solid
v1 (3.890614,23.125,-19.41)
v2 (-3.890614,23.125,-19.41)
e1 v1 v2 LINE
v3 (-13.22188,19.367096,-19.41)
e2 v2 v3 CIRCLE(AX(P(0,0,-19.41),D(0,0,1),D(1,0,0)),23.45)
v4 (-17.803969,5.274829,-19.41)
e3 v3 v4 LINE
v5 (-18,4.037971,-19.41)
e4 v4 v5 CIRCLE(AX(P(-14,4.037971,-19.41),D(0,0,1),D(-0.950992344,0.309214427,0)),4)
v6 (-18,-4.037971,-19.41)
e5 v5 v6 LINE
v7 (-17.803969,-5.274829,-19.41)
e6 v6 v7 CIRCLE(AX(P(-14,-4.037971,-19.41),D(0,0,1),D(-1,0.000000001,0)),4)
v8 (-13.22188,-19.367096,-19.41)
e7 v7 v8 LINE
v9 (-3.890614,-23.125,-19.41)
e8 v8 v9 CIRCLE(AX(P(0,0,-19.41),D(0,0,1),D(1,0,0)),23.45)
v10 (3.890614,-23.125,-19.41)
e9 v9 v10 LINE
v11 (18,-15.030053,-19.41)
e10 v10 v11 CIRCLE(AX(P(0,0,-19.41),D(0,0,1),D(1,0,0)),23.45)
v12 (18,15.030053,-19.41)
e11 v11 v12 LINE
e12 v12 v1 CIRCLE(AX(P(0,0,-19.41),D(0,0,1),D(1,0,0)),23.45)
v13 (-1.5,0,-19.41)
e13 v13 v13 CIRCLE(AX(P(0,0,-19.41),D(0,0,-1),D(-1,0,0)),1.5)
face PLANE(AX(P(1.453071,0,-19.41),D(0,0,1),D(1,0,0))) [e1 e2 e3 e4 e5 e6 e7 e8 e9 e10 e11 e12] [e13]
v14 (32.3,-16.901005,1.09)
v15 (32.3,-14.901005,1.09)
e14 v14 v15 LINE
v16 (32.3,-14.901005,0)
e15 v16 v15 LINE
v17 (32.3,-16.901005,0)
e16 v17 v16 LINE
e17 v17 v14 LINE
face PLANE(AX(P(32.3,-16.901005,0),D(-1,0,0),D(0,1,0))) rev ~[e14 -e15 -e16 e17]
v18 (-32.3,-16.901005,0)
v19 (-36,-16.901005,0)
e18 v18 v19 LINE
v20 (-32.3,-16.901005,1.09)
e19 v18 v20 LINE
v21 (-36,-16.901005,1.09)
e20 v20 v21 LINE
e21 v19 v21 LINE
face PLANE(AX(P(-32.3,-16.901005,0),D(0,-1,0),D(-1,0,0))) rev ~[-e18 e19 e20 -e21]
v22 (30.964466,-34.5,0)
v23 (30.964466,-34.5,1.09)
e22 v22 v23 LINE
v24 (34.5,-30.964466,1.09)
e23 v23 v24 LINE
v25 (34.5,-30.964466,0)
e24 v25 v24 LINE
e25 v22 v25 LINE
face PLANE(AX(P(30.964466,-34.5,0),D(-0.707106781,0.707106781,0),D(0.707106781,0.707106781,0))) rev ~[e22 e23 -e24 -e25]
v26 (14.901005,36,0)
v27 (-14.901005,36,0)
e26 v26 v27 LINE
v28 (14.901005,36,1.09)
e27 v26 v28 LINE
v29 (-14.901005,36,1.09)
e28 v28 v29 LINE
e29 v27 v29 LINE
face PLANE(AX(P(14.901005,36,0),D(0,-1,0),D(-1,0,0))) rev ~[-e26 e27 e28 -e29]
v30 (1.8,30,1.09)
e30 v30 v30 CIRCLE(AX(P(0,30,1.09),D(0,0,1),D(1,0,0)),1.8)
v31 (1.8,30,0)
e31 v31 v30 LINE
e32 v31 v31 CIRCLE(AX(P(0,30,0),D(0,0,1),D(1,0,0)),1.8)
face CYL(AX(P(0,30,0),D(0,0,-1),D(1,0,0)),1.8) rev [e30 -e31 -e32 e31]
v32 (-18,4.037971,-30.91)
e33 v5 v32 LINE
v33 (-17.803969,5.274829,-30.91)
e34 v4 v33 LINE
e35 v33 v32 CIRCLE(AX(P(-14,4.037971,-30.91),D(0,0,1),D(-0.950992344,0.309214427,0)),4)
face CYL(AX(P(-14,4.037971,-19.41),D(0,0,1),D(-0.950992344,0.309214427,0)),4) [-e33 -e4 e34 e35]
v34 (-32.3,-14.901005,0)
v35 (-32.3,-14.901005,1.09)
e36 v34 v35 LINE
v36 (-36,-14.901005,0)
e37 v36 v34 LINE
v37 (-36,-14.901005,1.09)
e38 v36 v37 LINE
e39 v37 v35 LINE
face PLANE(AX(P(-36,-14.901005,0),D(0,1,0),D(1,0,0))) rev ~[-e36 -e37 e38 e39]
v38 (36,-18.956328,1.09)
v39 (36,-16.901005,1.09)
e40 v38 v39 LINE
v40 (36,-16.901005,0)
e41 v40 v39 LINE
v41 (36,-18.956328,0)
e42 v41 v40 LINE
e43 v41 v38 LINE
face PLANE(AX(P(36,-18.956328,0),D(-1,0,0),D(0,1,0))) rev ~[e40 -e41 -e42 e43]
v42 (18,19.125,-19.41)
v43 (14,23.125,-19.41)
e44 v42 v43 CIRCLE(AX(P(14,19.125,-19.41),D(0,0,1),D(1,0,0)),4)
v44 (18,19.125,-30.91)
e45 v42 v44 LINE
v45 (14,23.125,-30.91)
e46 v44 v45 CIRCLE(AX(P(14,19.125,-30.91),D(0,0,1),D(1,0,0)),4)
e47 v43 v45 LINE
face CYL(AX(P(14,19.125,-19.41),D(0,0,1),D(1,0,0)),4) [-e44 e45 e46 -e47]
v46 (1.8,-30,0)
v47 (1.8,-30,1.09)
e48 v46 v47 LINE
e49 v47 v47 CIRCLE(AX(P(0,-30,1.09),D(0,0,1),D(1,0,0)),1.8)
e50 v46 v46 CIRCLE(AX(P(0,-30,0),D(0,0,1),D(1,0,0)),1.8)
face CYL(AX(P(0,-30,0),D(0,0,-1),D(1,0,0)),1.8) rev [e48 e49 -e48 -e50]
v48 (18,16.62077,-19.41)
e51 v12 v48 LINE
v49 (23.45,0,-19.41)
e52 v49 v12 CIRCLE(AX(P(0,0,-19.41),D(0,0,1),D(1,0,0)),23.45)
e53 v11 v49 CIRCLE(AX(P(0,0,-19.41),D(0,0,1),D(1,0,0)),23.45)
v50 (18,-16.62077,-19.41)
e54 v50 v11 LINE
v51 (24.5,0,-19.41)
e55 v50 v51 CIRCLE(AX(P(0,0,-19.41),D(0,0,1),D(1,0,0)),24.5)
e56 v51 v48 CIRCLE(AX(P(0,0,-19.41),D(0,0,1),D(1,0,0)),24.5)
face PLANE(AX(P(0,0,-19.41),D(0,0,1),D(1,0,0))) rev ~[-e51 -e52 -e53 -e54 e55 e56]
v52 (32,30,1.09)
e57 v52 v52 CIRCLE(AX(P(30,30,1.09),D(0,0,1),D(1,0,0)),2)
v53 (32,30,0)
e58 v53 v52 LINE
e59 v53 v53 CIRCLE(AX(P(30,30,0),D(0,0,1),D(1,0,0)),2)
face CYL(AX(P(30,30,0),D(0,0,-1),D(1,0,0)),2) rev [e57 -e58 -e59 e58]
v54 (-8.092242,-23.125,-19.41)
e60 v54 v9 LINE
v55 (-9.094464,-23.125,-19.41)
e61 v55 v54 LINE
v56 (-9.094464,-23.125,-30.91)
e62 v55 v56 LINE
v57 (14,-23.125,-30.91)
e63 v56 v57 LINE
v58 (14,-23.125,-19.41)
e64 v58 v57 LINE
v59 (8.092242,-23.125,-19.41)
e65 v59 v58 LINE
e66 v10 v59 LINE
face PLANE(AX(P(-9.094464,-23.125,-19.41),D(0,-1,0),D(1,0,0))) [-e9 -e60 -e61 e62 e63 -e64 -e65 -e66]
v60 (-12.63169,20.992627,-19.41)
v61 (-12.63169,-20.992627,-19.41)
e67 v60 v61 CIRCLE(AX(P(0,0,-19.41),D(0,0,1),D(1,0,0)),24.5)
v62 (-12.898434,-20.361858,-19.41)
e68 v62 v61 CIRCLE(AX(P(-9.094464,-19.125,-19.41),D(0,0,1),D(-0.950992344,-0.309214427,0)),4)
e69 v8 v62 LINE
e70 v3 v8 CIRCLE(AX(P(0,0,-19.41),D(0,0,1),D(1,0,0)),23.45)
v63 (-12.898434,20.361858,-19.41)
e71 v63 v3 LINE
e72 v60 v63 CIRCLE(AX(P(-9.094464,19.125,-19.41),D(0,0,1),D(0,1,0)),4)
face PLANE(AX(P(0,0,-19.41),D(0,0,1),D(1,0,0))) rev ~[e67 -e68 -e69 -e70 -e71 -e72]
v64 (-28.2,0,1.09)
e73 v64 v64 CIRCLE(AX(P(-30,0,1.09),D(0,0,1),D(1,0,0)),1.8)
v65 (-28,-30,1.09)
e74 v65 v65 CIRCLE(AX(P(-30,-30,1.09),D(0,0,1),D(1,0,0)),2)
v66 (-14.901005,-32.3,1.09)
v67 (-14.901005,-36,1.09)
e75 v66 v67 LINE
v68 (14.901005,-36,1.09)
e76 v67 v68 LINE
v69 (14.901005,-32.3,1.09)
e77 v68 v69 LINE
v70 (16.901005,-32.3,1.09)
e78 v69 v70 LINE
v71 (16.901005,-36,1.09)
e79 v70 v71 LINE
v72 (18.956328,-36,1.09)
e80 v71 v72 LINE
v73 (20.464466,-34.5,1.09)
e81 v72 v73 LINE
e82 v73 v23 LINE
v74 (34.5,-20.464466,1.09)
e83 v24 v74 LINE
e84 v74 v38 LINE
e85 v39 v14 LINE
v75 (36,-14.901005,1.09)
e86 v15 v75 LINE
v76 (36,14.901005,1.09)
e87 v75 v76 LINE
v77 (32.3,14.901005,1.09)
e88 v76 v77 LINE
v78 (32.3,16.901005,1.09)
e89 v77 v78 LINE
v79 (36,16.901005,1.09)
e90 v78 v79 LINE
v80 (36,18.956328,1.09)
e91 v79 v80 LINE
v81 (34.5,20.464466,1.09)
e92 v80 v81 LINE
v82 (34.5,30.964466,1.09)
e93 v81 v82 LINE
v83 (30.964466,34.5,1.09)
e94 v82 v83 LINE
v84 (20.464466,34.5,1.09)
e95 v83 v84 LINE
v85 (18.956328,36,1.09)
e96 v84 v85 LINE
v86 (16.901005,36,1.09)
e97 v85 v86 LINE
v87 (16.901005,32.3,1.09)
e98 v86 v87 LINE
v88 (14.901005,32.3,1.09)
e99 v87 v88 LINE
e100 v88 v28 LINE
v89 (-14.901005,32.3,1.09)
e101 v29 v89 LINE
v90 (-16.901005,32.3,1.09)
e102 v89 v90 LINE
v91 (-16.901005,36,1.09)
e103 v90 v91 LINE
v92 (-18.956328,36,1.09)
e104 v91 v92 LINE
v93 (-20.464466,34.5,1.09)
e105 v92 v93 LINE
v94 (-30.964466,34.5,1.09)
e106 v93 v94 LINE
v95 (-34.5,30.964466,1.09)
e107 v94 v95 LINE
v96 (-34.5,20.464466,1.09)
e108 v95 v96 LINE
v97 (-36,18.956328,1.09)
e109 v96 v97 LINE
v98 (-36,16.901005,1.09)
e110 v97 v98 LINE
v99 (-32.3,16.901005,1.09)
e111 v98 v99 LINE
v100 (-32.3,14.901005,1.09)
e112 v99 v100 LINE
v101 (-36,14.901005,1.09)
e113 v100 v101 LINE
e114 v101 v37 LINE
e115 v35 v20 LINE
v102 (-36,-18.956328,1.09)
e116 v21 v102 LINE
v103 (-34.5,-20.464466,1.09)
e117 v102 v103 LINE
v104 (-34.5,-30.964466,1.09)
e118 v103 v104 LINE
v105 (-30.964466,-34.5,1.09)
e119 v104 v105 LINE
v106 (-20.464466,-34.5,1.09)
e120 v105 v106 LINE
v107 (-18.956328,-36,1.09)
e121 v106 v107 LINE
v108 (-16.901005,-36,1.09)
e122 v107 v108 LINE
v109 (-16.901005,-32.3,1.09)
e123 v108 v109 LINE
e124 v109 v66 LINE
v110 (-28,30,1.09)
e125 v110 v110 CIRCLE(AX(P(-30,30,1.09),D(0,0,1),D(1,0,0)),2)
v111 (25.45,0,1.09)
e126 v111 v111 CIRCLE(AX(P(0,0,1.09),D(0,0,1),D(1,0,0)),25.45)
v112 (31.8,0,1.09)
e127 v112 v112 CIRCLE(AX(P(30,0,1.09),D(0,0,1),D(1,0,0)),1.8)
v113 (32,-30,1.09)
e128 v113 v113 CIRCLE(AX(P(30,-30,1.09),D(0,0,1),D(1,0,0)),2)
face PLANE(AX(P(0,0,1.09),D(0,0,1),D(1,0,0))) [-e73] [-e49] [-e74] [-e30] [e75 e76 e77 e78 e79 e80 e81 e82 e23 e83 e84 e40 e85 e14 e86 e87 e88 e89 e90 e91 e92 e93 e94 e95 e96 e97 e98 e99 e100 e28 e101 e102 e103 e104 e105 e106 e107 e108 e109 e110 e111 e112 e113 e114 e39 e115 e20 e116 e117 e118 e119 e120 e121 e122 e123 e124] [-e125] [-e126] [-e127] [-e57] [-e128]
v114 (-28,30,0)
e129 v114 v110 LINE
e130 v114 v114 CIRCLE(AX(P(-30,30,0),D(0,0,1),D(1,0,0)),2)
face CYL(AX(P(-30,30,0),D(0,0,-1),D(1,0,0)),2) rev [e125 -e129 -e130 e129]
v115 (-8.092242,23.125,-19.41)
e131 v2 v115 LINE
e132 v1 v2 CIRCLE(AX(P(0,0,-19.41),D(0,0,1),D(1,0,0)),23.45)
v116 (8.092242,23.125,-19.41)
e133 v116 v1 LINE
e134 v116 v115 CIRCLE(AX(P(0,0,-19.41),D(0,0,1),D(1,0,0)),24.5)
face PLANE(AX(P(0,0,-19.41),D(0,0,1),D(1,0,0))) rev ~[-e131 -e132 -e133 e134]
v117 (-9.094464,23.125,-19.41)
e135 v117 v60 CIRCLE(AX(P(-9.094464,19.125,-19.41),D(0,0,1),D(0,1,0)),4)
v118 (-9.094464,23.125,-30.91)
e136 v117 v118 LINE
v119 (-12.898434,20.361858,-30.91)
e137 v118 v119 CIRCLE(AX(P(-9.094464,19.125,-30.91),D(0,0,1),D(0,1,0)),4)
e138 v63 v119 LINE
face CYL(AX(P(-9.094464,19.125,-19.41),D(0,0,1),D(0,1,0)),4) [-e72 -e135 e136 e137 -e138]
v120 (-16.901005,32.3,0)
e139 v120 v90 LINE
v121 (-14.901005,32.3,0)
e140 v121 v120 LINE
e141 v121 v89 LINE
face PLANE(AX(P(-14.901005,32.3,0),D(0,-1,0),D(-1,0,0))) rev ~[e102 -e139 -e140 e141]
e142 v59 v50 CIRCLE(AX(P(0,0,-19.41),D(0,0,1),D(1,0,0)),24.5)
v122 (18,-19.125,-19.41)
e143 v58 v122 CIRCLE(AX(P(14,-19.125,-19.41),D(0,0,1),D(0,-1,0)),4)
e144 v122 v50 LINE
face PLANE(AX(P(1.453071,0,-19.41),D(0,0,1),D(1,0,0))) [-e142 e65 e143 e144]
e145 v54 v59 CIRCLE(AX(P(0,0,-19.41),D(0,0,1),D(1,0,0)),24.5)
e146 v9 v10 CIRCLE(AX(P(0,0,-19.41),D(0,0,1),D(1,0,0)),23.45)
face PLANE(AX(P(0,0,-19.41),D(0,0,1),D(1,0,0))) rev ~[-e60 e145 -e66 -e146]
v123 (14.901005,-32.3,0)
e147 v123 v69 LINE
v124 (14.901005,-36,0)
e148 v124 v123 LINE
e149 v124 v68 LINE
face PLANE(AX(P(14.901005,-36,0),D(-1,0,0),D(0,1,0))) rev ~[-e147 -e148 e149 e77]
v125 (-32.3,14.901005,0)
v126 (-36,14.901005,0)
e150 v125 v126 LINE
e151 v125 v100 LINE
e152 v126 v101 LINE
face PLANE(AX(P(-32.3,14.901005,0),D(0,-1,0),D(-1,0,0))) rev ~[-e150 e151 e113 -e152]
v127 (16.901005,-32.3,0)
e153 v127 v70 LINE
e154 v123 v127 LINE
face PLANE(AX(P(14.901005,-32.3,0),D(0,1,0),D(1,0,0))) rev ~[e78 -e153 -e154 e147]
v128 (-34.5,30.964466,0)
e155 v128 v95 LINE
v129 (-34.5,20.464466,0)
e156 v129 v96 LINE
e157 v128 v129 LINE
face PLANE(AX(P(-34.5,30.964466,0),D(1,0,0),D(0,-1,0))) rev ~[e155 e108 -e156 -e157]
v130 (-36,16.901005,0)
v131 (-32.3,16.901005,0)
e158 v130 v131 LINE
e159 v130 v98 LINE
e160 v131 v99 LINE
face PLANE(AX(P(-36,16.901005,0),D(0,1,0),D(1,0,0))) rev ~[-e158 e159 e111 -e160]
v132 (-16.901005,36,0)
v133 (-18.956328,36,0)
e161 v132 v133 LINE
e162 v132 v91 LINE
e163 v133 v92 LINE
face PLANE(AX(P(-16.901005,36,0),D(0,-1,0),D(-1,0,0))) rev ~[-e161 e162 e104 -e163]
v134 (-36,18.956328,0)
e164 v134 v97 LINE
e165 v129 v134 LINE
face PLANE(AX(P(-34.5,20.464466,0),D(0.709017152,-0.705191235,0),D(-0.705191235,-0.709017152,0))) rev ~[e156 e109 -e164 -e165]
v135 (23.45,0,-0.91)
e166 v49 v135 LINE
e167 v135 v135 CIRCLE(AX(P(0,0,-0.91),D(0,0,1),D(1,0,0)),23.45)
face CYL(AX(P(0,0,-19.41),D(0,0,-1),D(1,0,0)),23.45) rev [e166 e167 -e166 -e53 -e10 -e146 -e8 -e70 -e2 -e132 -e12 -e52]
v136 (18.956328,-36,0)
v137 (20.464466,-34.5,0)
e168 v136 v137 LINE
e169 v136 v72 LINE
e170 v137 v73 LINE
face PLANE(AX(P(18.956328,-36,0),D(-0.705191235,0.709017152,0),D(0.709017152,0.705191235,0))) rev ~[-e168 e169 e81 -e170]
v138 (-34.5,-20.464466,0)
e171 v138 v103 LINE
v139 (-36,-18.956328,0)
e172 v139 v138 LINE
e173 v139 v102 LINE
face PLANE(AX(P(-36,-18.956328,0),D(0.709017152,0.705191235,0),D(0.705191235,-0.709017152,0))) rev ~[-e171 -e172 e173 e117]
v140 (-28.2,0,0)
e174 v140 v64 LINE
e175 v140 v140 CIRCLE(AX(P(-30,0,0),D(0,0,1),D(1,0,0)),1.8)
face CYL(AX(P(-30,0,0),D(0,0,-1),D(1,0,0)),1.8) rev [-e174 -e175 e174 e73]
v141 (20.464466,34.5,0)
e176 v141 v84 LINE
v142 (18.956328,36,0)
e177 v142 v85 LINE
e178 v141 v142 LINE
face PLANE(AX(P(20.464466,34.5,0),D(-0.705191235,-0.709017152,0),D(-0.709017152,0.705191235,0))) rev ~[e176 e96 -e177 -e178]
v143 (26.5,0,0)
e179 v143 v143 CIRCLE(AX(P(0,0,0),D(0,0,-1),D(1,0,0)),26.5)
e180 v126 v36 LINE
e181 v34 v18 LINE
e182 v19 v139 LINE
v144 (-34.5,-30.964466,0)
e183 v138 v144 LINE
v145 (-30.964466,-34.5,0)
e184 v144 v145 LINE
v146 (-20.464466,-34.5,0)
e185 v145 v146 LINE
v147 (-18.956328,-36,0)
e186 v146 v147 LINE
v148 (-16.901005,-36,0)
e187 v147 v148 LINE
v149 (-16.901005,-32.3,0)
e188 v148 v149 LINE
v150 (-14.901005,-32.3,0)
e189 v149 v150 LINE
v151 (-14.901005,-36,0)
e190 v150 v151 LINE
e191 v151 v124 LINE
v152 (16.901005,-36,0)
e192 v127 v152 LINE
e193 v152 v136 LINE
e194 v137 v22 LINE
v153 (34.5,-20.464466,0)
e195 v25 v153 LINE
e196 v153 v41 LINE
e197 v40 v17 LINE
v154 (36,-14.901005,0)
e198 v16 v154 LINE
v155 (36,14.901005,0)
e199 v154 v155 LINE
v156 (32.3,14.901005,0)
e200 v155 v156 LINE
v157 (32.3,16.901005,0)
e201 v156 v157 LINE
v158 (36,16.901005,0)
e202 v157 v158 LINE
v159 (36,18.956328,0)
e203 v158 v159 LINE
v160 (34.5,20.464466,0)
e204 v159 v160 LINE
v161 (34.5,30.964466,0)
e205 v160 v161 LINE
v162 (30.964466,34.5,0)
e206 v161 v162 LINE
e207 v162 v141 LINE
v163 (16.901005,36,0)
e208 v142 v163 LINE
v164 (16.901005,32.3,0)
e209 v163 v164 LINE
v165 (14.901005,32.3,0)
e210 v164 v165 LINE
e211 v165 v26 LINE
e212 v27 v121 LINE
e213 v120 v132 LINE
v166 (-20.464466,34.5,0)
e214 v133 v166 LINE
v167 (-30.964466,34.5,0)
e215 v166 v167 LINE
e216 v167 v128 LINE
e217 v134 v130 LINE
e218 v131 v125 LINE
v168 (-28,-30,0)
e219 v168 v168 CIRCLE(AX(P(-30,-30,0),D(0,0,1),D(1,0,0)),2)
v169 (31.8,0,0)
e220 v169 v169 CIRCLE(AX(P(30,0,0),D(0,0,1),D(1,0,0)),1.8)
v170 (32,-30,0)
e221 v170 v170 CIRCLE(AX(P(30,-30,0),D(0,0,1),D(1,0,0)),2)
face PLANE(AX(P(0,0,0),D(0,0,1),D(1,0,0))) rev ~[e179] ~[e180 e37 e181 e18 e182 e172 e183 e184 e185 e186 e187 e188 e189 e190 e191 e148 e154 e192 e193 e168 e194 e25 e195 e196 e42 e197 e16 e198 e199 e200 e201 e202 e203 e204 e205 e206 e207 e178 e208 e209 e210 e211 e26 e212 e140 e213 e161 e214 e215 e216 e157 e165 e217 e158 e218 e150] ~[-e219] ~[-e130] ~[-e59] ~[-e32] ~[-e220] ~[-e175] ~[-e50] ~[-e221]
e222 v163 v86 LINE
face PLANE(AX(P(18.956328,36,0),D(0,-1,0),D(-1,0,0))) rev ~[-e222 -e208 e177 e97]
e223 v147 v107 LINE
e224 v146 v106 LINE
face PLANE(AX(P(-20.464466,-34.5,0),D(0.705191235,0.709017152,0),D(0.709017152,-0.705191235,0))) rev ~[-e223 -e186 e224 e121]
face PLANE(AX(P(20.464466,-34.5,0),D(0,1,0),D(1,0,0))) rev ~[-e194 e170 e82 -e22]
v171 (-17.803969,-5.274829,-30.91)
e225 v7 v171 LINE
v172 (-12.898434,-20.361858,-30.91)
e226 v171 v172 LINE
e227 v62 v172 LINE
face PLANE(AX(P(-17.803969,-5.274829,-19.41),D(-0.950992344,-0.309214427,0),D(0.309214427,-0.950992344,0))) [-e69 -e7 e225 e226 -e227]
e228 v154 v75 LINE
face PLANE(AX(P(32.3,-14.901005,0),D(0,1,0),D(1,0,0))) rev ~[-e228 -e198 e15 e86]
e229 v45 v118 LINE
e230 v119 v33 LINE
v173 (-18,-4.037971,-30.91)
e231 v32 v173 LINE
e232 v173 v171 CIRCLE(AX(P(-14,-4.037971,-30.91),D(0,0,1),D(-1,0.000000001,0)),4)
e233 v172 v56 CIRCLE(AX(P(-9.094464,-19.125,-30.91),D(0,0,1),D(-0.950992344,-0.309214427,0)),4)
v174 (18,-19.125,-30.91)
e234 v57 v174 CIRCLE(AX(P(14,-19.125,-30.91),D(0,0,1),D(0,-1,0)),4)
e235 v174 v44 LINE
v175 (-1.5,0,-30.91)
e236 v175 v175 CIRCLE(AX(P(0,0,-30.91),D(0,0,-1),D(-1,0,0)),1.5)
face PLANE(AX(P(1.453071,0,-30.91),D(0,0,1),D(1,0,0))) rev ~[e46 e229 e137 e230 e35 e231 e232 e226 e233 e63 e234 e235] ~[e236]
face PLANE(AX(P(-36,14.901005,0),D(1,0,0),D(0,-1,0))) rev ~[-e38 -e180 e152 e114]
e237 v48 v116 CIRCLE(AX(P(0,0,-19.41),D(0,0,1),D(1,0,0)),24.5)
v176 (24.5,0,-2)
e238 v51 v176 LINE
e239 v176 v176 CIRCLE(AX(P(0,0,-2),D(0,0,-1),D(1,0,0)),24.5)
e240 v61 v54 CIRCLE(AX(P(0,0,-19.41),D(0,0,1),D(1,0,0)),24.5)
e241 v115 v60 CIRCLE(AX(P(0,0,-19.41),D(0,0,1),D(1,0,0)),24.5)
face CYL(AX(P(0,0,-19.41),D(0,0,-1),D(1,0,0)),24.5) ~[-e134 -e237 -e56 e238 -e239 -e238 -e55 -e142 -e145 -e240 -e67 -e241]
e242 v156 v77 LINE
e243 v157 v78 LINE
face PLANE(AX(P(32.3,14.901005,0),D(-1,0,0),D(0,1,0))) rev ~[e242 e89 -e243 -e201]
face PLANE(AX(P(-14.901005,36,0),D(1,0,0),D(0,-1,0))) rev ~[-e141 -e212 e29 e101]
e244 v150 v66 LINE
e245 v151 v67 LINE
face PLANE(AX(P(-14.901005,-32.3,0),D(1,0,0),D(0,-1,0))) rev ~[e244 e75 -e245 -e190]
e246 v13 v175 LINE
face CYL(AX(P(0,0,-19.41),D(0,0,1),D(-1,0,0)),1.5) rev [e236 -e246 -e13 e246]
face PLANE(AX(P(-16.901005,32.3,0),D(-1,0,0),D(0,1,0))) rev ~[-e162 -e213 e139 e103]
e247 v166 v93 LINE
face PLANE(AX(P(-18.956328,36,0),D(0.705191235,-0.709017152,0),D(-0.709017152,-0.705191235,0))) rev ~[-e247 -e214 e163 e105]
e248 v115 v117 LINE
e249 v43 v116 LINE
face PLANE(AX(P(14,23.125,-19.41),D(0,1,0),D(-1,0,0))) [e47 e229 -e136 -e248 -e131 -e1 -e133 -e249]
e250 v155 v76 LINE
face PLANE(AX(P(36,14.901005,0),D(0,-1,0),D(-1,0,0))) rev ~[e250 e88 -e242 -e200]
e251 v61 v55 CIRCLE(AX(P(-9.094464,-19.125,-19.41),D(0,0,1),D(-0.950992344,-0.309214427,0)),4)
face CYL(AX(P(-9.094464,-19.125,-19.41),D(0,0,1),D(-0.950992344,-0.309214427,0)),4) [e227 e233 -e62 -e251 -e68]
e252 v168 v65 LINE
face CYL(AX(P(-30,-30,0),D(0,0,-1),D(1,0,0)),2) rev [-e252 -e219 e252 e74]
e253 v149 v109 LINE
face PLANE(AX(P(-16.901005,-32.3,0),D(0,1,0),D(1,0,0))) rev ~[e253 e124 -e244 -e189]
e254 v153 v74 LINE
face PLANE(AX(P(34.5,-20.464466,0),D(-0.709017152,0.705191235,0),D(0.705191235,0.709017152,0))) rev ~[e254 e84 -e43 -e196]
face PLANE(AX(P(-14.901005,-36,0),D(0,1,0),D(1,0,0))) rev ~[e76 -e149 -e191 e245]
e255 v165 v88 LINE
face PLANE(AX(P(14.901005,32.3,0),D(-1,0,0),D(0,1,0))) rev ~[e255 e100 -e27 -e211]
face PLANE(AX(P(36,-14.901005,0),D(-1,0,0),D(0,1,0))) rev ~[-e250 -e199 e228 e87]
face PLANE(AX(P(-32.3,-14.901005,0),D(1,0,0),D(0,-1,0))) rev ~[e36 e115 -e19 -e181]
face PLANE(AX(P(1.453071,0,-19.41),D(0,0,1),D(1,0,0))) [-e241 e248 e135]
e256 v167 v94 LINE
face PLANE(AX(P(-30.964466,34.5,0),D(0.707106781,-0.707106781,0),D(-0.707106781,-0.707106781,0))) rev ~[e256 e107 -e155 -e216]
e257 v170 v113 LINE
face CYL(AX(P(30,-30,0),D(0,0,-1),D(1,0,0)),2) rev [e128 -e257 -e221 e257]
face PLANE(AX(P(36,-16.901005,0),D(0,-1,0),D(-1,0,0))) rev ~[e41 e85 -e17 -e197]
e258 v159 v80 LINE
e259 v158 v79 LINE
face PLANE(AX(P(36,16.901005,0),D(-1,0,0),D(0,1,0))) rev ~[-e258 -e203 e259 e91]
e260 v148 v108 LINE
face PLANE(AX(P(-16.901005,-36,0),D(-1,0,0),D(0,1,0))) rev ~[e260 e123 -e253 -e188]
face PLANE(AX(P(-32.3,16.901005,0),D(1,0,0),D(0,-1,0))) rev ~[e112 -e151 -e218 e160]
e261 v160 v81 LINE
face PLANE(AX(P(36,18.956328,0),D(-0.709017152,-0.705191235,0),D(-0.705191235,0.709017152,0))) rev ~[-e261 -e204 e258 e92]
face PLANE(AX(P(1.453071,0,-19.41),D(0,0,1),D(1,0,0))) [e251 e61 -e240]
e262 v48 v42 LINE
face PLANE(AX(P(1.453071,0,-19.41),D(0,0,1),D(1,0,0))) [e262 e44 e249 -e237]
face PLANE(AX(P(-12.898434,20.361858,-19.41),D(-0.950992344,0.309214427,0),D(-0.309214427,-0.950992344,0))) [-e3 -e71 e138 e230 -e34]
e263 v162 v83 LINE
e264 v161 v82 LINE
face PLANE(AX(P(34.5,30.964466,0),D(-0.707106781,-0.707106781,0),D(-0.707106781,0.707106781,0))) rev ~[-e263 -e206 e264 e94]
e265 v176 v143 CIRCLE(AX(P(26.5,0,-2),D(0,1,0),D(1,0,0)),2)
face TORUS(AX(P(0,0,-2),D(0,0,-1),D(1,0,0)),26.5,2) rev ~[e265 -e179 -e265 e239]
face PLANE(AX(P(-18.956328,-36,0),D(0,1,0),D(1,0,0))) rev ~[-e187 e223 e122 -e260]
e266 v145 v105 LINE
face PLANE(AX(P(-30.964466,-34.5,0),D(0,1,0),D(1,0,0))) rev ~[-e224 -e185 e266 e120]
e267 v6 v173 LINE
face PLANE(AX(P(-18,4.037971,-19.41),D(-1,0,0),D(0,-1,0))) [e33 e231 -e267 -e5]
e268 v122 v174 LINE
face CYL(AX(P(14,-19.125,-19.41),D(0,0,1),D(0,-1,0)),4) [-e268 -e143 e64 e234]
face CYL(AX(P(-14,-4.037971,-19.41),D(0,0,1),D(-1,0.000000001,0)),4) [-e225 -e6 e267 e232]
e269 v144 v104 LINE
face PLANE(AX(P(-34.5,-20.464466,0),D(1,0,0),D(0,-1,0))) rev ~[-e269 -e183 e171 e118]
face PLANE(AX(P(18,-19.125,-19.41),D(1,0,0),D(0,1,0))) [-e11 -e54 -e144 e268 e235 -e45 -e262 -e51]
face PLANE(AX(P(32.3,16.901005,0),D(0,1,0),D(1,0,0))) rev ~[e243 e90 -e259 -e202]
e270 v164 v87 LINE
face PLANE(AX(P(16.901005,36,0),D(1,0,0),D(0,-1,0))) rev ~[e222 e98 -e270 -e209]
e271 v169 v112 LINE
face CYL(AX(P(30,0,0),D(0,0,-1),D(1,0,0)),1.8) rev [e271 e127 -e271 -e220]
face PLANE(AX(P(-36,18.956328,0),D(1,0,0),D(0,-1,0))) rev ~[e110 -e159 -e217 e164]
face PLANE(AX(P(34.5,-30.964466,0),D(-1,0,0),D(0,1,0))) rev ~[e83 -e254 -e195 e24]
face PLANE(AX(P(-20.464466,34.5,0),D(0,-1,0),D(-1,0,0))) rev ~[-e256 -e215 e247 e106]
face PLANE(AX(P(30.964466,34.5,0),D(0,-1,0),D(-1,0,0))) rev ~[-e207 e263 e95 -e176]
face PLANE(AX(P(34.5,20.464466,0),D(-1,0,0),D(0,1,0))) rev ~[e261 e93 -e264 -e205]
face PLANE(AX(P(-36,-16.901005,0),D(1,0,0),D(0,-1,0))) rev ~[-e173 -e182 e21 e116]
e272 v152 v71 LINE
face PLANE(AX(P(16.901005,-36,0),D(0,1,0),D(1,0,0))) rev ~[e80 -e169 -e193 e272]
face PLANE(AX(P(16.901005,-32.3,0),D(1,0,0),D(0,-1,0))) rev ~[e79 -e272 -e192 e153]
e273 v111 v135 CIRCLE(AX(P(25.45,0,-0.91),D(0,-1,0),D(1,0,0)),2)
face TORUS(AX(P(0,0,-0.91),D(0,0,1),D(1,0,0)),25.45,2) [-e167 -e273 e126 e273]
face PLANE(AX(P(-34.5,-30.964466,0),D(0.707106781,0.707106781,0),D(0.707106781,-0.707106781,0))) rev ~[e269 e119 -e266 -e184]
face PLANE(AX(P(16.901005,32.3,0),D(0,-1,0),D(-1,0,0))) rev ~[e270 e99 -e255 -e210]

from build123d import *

# Parameters (mm, degrees)
SKETCH_1_R      = 2
SKETCH_1_R_2    = 1.8
SKETCH_1_R_3    = 23.45
EXTRUDE_1_DEPTH = 1.09
EXTRUDE_START   = -20.5
SKETCH_2_R      = 24.5
SKETCH_2_R_2    = 23.45
EXTRUDE_2_DEPTH = 20.5
FILLET_1_R      = 2
SKETCH_3_R      = 1.5
EXTRUDE_3_DEPTH = 11.5


with BuildPart() as part:
    # Эскиз1 → Бобышка-Вытянуть1 (new body)
    with BuildSketch(Plane.XY):
        Polygon((-30.964466094, 34.5), (-34.5, 30.964466094), (-34.5, 20.464466094), (-36, 18.956328052), (-36, 16.901005102), (-32.3, 16.901005102), (-32.3, 14.901005102), (-36, 14.901005102), (-36, -14.901005102), (-32.3, -14.901005102), (-32.3, -16.901005102), (-36, -16.901005102), (-36, -18.956328052), (-34.5, -20.464466094), (-34.5, -30.964466094), (-30.964466094, -34.5), (-20.464466094, -34.5), (-18.956328052, -36), (-16.901005102, -36), (-16.901005102, -32.3), (-14.901005102, -32.3), (-14.901005102, -36), (14.901005102, -36), (14.901005102, -32.3), (16.901005102, -32.3), (16.901005102, -36), (18.956328052, -36), (20.464466094, -34.5), (30.964466094, -34.5), (34.5, -30.964466094), (34.5, -20.464466094), (36, -18.956328052), (36, -16.901005102), (32.3, -16.901005102), (32.3, -14.901005102), (36, -14.901005102), (36, 14.901005102), (32.3, 14.901005102), (32.3, 16.901005102), (36, 16.901005102), (36, 18.956328052), (34.5, 20.464466094), (34.5, 30.964466094), (30.964466094, 34.5), (20.464466094, 34.5), (18.956328052, 36), (16.901005102, 36), (16.901005102, 32.3), (14.901005102, 32.3), (14.901005102, 36), (-14.901005102, 36), (-14.901005102, 32.3), (-16.901005102, 32.3), (-16.901005102, 36), (-18.956328052, 36), (-20.464466094, 34.5), align=None)
        with Locations((-30, 30)):
            Circle(SKETCH_1_R, mode=Mode.SUBTRACT)
        with Locations((-30, 0)):
            Circle(SKETCH_1_R_2, mode=Mode.SUBTRACT)
        with Locations((30, 30)):
            Circle(SKETCH_1_R, mode=Mode.SUBTRACT)
        with Locations((0, 30)):
            Circle(SKETCH_1_R_2, mode=Mode.SUBTRACT)
        with Locations((30, -30)):
            Circle(SKETCH_1_R, mode=Mode.SUBTRACT)
        with Locations((30, 0)):
            Circle(SKETCH_1_R_2, mode=Mode.SUBTRACT)
        with Locations((-30, -30)):
            Circle(SKETCH_1_R, mode=Mode.SUBTRACT)
        with Locations((0, -30)):
            Circle(SKETCH_1_R_2, mode=Mode.SUBTRACT)
        Circle(SKETCH_1_R_3, mode=Mode.SUBTRACT)
    extrude(amount=EXTRUDE_1_DEPTH)

    # Эскиз2 → Бобышка-Вытянуть2 (add)
    with BuildSketch(Plane.XY.offset(1.09).offset(EXTRUDE_START)):
        Circle(SKETCH_2_R)
        Circle(SKETCH_2_R_2, mode=Mode.SUBTRACT)
    extrude(amount=EXTRUDE_2_DEPTH)

    # Скругление1
    fillet_1_edges = [part.edges().sort_by_distance(p)[0] for p in [
        (-23.45, 0, 1.09),
        (-24.5, 0, 0),
    ]]
    fillet(fillet_1_edges, radius=FILLET_1_R)

    # Эскиз3 → Бобышка-Вытянуть3 (add)
    with BuildSketch(Plane(origin=(0, 0, -19.41), x_dir=(-1, 0, 0), z_dir=(0, 0, -1))):
        with BuildLine():
            Line((-18, -19.125), (-18, 19.125))
            ThreePointArc((-18, 19.125), (-16.828427125, 21.953427125), (-14, 23.125))
            Line((-14, 23.125), (9.094464209, 23.125))
            ThreePointArc((9.094464209, 23.125), (11.445269302, 22.361312008), (12.898433585, 20.361857708))
            Line((12.898433585, 20.361857708), (17.803969376, 5.274828861))
            ThreePointArc((17.803969376, 5.274828861), (17.95068839, 4.664119098), (18, 4.037971153))
            Line((18, 4.037971153), (18, -4.037971153))
            ThreePointArc((18, -4.037971153), (17.95068839, -4.664119098), (17.803969376, -5.274828861))
            Line((17.803969376, -5.274828861), (12.898433585, -20.361857708))
            ThreePointArc((12.898433585, -20.361857708), (11.445269302, -22.361312008), (9.094464209, -23.125))
            Line((9.094464209, -23.125), (-14, -23.125))
            ThreePointArc((-14, -23.125), (-16.828427125, -21.953427125), (-18, -19.125))
        make_face()
        Circle(SKETCH_3_R, mode=Mode.SUBTRACT)
    extrude(amount=EXTRUDE_3_DEPTH)


solid = part.part
